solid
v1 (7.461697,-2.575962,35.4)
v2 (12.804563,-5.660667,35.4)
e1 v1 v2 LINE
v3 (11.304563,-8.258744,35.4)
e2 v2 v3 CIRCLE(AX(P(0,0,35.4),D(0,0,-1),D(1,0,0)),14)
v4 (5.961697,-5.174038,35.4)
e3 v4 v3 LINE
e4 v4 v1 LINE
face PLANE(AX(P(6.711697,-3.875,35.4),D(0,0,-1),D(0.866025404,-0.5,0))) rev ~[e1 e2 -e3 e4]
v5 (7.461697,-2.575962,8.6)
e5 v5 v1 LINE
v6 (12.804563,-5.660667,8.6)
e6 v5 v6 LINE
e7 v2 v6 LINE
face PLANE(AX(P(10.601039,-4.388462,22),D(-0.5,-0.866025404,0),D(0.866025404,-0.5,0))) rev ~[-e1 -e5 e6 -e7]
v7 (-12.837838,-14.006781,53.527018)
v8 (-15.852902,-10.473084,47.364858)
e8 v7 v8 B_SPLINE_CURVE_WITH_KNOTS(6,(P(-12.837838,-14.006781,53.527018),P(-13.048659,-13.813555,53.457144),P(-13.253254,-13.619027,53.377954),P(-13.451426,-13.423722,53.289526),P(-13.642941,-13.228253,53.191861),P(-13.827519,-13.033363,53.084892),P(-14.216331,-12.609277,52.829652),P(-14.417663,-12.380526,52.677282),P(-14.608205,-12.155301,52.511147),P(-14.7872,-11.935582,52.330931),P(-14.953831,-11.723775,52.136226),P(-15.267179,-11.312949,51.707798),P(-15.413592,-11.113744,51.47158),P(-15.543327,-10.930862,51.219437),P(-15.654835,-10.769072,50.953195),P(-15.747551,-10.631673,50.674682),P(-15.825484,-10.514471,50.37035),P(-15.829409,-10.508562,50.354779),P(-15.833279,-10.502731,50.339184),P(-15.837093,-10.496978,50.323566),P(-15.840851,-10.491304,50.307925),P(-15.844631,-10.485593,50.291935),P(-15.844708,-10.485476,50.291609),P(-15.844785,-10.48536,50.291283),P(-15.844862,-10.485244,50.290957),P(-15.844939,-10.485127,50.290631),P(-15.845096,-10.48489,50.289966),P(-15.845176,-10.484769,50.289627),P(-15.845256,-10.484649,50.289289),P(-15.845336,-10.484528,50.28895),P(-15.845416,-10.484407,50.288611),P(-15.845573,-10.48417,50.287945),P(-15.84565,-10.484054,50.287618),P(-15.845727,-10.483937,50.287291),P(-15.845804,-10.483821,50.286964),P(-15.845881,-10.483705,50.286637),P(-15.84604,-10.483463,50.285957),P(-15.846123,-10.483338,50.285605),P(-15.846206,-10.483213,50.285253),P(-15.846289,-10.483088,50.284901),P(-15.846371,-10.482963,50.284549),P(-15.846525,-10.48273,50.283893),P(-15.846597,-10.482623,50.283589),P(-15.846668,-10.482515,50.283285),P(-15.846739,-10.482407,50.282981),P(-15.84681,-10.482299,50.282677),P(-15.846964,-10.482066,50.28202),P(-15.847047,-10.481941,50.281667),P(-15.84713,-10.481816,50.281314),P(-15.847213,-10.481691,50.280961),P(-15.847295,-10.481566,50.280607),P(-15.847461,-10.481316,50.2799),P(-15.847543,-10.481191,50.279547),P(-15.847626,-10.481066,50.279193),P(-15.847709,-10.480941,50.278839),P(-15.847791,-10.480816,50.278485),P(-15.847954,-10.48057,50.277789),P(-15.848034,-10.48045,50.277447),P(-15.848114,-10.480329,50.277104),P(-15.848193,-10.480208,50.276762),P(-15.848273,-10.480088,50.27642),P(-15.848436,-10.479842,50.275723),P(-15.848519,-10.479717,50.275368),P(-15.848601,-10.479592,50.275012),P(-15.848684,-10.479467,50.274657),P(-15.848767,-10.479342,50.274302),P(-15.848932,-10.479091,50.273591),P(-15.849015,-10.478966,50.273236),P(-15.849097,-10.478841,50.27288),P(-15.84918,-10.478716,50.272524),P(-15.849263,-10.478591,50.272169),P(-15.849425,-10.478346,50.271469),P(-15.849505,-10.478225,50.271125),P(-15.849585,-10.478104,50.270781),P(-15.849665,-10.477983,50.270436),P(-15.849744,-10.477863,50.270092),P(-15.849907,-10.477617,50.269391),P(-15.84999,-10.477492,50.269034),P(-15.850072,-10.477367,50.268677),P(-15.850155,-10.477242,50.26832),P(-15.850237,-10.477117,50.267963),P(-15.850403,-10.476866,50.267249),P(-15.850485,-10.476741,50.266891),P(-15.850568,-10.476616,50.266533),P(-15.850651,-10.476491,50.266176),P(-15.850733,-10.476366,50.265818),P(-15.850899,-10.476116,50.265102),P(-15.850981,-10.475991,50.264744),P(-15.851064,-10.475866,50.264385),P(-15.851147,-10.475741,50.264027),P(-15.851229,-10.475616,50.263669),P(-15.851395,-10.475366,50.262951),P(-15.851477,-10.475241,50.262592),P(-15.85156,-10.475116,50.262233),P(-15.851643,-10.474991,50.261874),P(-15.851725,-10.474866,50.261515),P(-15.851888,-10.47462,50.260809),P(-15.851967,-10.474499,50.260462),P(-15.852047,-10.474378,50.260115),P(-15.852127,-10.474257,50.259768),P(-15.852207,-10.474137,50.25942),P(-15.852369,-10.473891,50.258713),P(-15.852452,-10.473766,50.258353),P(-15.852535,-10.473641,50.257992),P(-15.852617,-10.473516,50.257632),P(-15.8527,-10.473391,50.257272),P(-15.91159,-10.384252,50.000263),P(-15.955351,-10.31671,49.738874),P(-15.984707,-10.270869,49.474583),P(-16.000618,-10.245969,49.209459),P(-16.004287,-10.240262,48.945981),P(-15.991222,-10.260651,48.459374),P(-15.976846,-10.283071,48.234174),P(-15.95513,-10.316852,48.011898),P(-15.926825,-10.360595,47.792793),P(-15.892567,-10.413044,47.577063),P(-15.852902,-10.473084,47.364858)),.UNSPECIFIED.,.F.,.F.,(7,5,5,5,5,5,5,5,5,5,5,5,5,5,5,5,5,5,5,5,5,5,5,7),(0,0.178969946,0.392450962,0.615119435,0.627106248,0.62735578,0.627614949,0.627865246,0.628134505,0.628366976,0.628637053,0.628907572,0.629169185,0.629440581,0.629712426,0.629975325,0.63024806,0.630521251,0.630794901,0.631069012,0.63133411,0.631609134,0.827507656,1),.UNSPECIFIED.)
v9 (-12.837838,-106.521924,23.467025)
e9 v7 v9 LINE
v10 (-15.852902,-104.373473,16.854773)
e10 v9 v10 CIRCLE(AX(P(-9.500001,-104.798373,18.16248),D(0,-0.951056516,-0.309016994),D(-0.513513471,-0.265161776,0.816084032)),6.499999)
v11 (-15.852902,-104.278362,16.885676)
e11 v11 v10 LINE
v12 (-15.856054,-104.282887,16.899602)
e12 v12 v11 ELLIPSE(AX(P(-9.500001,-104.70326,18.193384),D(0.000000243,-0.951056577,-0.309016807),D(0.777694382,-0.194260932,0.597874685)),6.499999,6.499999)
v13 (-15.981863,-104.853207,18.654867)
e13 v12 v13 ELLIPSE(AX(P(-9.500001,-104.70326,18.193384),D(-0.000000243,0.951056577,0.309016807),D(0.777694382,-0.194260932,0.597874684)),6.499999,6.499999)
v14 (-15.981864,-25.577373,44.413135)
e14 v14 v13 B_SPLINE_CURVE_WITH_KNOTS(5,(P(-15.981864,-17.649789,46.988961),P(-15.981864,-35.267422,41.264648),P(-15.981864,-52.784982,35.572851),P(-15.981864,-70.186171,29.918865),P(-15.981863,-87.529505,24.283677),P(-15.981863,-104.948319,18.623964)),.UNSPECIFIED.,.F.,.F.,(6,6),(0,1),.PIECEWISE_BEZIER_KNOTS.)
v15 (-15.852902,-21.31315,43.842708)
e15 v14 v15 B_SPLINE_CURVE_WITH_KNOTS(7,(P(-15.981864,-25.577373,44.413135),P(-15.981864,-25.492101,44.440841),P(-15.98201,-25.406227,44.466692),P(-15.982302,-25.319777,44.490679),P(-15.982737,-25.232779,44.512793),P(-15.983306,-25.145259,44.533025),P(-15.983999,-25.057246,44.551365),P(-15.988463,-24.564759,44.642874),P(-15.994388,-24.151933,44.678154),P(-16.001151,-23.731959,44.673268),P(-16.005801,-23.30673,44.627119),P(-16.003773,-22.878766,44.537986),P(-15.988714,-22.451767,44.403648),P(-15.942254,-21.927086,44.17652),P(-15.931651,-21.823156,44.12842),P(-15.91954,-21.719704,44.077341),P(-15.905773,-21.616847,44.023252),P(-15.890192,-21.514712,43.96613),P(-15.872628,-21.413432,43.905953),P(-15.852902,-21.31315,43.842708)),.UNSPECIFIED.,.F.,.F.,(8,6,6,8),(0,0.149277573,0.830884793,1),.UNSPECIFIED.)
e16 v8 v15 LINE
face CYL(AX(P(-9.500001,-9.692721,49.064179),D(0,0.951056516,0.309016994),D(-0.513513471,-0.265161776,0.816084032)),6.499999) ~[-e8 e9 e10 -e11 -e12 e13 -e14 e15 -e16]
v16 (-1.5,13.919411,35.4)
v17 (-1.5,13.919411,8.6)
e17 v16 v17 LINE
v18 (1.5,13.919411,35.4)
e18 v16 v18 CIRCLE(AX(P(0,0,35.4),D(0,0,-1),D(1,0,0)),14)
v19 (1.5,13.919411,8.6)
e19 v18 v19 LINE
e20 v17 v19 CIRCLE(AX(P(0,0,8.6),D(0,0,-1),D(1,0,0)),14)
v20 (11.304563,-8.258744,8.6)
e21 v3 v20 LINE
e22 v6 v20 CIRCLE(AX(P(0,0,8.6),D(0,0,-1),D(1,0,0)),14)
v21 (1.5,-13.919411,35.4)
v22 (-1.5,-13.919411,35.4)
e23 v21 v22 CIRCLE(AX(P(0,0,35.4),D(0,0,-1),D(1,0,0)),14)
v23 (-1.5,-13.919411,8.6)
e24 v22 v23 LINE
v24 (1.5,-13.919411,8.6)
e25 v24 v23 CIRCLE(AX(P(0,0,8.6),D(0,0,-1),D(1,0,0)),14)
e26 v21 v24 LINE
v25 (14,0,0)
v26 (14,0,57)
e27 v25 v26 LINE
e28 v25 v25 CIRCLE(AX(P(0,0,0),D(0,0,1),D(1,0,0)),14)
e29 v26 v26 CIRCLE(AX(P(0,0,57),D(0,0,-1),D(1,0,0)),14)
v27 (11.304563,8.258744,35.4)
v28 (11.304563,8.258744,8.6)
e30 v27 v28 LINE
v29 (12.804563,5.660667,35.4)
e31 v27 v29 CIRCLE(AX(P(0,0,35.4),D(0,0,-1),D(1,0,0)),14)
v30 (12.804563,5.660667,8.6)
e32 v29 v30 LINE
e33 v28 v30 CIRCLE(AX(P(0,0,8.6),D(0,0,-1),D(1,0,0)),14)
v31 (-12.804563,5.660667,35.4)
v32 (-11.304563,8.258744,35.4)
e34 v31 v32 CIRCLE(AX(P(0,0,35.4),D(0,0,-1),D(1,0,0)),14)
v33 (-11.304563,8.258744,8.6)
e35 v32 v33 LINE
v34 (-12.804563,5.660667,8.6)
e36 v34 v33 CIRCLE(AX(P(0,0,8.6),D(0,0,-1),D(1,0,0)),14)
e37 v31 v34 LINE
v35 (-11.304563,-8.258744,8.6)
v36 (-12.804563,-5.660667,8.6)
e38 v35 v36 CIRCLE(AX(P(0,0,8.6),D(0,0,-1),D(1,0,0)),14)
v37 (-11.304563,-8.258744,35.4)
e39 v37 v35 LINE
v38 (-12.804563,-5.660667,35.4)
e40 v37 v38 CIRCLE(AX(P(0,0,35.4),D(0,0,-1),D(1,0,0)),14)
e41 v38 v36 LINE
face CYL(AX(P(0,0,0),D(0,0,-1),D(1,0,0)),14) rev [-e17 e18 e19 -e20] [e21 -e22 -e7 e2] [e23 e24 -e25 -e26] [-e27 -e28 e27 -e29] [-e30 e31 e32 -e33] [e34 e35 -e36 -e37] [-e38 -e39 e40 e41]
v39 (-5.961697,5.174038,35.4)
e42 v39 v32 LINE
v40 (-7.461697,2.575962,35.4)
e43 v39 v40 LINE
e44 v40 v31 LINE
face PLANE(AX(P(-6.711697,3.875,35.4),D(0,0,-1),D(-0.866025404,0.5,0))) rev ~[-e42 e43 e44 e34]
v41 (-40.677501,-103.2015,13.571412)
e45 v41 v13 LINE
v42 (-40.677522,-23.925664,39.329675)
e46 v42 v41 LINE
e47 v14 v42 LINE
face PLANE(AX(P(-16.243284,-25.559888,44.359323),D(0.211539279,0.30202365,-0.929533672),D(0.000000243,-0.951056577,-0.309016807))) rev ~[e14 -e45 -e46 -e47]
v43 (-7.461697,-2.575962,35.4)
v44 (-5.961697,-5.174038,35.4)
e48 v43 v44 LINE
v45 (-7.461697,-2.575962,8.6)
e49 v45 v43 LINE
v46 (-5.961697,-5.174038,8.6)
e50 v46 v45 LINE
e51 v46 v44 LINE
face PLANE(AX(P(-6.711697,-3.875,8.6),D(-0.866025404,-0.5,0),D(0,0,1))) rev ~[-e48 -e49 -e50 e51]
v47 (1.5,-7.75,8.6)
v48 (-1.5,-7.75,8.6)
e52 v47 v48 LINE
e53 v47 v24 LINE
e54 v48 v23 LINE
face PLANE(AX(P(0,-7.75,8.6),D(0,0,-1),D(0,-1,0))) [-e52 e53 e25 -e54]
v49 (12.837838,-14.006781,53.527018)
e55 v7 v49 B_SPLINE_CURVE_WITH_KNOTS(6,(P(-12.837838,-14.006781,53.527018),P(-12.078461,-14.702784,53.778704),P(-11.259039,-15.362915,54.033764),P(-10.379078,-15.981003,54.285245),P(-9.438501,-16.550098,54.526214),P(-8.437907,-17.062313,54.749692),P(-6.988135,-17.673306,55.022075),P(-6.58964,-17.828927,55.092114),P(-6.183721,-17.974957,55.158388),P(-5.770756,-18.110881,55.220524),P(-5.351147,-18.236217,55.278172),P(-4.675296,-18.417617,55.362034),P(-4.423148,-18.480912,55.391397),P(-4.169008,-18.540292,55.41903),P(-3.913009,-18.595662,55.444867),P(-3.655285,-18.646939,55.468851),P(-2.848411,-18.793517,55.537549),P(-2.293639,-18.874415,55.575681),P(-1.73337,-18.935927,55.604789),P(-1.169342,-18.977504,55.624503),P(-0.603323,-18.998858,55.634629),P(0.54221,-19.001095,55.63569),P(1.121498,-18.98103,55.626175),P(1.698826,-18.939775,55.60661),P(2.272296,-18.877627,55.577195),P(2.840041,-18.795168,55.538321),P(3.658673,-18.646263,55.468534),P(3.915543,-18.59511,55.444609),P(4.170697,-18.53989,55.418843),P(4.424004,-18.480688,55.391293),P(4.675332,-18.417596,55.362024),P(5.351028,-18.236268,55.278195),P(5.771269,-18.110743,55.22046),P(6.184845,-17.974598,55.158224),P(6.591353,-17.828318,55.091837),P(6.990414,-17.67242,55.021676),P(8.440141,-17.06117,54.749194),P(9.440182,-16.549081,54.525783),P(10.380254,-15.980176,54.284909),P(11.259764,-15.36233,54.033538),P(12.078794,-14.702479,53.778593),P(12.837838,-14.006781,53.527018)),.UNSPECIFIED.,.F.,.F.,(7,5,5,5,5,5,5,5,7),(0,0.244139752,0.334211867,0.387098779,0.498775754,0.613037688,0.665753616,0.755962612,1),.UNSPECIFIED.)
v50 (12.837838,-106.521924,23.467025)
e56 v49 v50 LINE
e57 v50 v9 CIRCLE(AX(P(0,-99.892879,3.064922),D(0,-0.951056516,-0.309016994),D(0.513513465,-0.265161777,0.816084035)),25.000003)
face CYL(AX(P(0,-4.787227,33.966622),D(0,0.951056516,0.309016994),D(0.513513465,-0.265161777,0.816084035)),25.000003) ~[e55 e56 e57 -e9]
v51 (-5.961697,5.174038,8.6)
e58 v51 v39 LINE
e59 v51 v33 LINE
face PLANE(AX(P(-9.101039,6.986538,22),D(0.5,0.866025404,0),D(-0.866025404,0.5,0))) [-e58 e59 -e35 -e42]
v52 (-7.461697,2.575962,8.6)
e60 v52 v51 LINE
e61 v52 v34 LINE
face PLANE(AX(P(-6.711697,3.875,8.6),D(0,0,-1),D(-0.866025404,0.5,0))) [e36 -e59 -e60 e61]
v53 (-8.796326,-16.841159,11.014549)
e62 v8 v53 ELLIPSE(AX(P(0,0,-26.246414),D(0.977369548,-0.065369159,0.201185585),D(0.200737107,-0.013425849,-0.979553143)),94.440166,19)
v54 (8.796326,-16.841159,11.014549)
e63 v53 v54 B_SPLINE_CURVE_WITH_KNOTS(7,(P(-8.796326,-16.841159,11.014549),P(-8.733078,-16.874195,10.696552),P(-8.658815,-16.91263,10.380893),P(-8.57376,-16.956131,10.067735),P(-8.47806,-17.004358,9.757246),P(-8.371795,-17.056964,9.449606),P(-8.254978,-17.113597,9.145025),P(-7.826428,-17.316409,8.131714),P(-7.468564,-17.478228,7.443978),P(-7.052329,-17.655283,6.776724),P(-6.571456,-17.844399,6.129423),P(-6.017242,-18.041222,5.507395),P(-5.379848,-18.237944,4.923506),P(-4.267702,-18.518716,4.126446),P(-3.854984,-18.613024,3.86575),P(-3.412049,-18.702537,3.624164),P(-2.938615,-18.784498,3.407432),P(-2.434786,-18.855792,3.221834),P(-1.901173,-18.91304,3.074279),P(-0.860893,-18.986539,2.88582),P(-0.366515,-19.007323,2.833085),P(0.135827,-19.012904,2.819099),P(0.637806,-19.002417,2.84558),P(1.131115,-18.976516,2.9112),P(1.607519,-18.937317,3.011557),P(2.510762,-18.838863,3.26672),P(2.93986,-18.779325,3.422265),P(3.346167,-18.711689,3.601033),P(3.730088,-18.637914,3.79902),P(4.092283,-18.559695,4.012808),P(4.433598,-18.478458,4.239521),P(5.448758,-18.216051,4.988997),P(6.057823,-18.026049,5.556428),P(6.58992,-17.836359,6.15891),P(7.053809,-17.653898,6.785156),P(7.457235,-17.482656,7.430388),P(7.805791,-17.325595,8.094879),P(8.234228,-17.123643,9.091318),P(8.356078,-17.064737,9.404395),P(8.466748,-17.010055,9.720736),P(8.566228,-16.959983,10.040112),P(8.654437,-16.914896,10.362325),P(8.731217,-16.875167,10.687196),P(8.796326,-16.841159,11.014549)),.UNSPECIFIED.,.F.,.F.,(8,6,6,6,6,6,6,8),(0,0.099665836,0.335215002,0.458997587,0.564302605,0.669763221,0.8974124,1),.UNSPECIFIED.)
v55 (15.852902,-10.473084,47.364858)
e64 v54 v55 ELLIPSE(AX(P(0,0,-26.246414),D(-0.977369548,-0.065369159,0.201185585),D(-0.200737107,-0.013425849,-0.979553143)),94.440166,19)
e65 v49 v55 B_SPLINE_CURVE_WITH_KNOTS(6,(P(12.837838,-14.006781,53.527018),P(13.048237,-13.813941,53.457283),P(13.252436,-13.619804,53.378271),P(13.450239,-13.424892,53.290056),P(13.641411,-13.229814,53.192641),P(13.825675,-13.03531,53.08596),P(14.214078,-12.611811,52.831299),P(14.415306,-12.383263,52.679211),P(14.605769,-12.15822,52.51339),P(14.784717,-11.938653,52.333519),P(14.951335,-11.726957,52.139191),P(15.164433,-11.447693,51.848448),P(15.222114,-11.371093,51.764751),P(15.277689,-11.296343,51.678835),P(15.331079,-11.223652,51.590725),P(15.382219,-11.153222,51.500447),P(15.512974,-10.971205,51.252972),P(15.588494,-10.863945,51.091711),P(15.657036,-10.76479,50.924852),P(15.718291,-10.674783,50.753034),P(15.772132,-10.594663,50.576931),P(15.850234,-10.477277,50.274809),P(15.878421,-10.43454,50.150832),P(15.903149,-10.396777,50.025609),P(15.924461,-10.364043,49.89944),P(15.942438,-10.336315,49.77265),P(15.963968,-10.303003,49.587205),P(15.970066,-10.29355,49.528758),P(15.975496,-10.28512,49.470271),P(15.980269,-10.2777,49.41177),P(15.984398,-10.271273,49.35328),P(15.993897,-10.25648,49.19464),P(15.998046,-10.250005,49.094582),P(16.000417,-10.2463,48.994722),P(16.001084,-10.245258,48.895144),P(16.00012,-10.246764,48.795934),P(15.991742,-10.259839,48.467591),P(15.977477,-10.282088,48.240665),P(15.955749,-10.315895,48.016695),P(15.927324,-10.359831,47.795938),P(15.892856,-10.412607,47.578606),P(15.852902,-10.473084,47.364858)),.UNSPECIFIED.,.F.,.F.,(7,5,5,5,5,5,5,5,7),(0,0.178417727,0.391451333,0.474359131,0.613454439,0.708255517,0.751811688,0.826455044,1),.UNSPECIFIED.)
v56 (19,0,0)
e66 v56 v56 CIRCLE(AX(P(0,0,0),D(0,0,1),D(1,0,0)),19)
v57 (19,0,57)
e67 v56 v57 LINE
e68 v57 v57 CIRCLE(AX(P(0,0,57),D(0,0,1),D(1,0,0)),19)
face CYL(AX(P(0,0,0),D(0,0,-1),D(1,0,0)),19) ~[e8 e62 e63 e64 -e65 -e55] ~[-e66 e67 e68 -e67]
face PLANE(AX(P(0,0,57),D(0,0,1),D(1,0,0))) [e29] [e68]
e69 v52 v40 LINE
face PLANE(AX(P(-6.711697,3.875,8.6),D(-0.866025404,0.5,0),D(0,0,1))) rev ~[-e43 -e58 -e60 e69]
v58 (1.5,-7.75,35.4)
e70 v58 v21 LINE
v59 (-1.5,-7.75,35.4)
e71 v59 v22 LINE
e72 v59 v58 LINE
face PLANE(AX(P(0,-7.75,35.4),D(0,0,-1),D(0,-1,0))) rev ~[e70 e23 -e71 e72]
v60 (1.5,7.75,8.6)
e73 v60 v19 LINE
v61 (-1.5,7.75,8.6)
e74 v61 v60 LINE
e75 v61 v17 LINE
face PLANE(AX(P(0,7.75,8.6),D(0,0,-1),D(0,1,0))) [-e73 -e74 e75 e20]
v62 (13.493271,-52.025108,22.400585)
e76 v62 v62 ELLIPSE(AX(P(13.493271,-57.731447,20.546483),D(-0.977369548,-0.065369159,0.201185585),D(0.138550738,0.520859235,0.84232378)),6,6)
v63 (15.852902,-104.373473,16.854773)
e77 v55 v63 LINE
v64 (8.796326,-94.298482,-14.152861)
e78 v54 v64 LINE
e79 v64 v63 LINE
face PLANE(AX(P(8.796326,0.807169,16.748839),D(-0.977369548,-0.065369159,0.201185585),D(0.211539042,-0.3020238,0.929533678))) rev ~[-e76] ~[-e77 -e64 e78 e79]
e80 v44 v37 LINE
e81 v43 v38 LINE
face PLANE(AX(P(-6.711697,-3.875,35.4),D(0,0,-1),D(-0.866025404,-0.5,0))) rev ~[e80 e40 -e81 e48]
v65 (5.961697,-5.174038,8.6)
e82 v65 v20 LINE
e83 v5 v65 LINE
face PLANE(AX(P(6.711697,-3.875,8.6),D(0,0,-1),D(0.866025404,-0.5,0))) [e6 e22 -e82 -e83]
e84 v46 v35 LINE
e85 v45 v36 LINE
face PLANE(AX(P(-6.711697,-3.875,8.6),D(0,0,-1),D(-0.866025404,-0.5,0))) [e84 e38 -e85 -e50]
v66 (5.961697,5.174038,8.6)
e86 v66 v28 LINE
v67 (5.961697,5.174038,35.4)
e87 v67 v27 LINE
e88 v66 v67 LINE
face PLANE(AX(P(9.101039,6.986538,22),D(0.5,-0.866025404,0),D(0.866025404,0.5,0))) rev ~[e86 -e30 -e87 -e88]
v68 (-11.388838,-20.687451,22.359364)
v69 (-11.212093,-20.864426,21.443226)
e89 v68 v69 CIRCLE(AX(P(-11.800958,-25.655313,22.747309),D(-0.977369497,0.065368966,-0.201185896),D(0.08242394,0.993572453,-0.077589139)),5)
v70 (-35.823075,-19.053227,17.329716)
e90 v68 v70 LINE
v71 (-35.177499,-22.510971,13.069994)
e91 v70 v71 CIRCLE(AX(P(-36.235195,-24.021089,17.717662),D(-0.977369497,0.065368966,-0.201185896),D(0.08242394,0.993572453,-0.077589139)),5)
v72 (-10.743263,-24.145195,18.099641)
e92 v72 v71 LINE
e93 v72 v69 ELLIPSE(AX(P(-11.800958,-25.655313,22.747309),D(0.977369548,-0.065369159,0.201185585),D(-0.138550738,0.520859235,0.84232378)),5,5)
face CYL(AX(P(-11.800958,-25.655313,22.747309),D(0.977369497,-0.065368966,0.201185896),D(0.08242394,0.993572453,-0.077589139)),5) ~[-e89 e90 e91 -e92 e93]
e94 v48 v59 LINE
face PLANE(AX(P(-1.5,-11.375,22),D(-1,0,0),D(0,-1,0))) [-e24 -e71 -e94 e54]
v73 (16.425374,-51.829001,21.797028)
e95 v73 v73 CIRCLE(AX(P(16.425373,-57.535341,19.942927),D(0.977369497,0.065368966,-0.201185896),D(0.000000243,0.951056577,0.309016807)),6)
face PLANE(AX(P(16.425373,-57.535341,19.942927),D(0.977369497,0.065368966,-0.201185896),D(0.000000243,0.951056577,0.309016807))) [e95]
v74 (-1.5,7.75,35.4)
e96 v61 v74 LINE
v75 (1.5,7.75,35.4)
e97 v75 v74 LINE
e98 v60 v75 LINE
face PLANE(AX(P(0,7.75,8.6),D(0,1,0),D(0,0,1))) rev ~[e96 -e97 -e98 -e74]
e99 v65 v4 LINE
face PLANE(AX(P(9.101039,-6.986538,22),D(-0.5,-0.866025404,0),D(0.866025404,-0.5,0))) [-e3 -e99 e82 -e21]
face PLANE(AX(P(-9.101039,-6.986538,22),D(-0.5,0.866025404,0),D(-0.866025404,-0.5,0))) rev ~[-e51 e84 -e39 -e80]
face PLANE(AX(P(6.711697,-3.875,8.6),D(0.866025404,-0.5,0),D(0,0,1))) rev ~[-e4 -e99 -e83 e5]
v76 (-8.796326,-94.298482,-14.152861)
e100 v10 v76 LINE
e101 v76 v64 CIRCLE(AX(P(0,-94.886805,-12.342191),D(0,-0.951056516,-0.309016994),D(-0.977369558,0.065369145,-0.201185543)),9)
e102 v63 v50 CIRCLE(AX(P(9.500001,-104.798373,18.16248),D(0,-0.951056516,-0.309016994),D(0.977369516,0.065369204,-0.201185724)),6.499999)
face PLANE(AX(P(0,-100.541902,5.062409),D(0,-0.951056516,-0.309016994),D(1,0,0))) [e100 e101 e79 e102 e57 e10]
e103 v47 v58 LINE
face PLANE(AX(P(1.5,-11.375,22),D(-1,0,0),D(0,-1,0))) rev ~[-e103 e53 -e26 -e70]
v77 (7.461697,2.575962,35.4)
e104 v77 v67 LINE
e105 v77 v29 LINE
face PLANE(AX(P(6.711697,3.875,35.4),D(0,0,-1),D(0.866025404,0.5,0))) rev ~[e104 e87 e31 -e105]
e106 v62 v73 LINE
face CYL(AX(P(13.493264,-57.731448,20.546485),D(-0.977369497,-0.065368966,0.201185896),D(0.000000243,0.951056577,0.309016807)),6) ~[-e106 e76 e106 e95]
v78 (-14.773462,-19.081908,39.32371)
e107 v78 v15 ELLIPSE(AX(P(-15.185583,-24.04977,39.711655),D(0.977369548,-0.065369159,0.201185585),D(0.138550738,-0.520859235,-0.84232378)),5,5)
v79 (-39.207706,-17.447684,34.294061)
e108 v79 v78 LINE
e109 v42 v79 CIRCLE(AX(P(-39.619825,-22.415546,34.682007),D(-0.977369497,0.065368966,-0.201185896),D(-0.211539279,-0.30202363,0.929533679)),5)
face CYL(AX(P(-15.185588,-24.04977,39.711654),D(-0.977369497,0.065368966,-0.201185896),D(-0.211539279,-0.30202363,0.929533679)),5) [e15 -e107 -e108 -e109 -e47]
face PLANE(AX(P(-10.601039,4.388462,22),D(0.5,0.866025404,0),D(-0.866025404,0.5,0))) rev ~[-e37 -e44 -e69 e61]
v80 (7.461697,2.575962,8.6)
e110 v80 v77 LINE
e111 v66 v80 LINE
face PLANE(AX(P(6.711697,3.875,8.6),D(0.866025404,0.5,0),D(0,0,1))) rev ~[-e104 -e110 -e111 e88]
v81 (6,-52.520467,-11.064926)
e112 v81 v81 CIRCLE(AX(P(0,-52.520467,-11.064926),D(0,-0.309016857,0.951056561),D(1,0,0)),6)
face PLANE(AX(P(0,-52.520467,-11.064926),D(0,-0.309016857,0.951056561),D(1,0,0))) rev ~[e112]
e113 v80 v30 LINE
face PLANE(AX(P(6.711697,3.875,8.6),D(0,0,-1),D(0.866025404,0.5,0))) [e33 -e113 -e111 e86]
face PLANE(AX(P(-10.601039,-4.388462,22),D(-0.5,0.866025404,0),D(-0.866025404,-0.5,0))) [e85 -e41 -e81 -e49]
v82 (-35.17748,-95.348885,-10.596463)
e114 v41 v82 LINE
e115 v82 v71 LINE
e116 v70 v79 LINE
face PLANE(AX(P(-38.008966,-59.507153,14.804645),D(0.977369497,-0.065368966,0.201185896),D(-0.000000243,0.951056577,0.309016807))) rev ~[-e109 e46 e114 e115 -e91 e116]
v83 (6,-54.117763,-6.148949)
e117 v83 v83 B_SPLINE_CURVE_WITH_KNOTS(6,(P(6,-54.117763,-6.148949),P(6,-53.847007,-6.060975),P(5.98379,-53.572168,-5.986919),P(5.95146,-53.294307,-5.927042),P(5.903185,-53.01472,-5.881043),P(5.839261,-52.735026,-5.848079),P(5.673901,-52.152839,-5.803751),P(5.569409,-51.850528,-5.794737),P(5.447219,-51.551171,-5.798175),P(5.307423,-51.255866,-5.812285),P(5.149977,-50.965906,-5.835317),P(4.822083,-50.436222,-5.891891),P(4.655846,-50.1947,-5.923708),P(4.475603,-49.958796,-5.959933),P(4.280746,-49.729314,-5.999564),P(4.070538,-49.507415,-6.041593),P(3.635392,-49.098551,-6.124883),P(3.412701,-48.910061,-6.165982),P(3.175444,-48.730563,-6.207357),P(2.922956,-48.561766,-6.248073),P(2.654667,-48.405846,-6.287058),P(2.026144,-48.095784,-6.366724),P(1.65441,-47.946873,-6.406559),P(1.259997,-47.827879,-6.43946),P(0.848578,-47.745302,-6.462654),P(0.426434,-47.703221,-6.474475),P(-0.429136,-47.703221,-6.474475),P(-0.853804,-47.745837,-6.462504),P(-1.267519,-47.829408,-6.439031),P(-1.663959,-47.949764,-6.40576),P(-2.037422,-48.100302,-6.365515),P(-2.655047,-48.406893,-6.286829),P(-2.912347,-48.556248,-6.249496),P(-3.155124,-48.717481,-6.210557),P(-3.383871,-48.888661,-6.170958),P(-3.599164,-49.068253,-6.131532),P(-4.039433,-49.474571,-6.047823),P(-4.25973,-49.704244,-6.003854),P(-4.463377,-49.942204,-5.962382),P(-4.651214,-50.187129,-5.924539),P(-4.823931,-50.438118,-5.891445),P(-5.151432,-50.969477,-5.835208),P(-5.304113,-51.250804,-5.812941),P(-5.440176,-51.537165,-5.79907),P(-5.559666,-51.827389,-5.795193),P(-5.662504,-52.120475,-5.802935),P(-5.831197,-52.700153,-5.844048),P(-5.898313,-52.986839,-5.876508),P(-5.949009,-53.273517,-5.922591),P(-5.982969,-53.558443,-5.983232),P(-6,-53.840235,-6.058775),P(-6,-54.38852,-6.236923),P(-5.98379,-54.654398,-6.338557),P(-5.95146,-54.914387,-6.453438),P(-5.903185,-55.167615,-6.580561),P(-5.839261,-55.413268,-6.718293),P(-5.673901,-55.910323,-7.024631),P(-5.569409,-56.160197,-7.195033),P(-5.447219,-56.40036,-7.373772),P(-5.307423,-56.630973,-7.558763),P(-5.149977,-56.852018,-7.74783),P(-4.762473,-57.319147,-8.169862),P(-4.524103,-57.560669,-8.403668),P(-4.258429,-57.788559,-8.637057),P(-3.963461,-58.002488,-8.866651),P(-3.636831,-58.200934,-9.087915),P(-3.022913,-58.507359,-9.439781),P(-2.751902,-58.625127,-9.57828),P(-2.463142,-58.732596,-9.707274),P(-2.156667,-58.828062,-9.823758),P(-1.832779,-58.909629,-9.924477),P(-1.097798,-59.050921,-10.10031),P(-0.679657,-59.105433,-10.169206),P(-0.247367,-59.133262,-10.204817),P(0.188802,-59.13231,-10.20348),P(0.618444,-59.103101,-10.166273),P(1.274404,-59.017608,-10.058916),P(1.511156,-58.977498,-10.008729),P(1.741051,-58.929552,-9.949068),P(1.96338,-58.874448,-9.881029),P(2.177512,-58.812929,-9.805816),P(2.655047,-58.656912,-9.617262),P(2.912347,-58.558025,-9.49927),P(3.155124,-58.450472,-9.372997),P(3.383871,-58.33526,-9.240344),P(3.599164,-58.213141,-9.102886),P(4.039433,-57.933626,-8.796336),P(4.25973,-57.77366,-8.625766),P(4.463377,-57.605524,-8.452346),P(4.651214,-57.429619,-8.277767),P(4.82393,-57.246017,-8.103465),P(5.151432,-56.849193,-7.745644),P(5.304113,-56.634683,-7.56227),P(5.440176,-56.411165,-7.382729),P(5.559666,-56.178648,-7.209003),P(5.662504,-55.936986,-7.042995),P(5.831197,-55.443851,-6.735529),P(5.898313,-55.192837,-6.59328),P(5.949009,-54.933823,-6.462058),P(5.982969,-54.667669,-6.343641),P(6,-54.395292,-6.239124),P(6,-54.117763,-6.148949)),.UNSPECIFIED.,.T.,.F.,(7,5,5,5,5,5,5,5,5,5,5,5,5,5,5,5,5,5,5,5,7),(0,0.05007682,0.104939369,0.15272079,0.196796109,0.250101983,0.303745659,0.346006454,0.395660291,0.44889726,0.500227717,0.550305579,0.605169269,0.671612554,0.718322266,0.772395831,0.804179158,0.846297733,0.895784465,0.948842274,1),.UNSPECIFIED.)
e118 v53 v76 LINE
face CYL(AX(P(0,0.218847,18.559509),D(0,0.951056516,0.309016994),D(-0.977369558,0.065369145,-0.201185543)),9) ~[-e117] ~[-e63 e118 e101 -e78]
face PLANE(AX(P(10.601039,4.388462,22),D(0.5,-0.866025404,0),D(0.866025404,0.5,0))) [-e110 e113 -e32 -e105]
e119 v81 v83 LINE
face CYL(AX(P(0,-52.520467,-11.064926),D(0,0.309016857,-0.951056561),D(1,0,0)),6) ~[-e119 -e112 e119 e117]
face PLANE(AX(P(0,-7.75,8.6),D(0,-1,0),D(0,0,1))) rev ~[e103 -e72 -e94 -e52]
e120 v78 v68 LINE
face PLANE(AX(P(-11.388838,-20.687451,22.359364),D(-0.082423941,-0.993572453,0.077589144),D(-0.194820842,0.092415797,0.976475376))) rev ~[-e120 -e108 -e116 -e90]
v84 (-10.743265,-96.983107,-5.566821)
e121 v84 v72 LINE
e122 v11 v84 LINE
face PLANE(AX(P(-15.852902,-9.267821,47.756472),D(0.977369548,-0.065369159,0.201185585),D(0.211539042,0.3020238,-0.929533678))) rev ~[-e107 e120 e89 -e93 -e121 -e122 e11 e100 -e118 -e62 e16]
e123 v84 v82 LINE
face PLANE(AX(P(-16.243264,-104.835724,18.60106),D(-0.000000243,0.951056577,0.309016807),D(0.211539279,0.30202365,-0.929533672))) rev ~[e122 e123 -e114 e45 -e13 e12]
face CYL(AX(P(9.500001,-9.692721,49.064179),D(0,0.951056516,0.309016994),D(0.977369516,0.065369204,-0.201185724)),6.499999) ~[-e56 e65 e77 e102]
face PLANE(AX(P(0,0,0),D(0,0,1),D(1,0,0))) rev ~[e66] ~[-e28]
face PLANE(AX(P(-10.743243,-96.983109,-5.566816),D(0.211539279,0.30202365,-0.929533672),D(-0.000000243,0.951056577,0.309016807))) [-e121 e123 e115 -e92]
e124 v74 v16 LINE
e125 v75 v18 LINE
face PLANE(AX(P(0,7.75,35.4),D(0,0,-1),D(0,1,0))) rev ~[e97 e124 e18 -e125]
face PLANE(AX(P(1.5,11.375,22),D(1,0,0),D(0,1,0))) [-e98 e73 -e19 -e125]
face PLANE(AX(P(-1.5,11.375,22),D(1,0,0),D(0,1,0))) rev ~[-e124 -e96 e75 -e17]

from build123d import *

# Parameters (mm, degrees)
CYLINDER002_R         = 20
CYLINDER002_DEPTH     = 10
PAD_DEPTH             = 100
CLONE_PLACEMENT_ANGLE = 18
SKETCH010_R           = 6
PAD008_DEPTH          = 3
SKETCH011_R           = 6
PAD009_DEPTH          = 10
PAD010_DEPTH          = 25
PAD010_DEPTH_BACK     = 1
CYLINDER_R            = 19
CYLINDER_DEPTH        = 57
SKETCH006_R           = 14
POCKET001_DEPTH       = 20.9027
POCKET001_DEPTH_BACK  = 57.001
SKETCH001_W           = 7.25
SKETCH001_H           = 26.8
PAD001_DEPTH          = 1.5
POLARPATTERN_COUNT    = 6


with BuildPart() as cylinder002:
    # Cylinder002 → Cylinder002 (new body)
    with BuildSketch(Plane.XY.offset(56)):
        Circle(CYLINDER002_R)
    extrude(amount=CYLINDER002_DEPTH)


with BuildPart() as cut:
    # Sketch → Pad (new body)
    with BuildSketch(Plane.XZ):
        with BuildLine():
            Line((-15.852902, 39.699504), (-8.796326, 7.096149))
            ThreePointArc((-8.796326, 7.096149), (0, 0), (8.796326, 7.096149))
            Line((8.796326, 7.096149), (15.852902, 39.699504))
            ThreePointArc((15.852902, 39.699504), (15.463392, 43.660617), (12.837838, 46.652038))
            ThreePointArc((12.837838, 46.652038), (0, 50.2), (-12.837838, 46.652038))
            ThreePointArc((-12.837838, 46.652038), (-15.463392, 43.660617), (-15.852902, 39.699504))
        make_face()
    extrude(amount=PAD_DEPTH)


with BuildPart() as cut_1:
    # Body placement: moved
    add(cut.part.moved(Location((100, 0, 0))))


with BuildPart() as cut_2:
    # Clone placement: moved
    add(cut_1.part.moved(Location((-100, 3, 10))).rotate(Axis((-100, 3, 10), (1, 0, 0)), CLONE_PLACEMENT_ANGLE))

    # Sketch010 (on Face3 of Clone) → Pad008 (new body)
    with BuildSketch(Plane(origin=(6.93556, 3.463869, 8.572357), x_dir=(0, 0.951057, 0.309017), z_dir=(0.97737, 0.065369, -0.201186))):
        with Locations((-54.5, 31)):
            Circle(SKETCH010_R)
    extrude(amount=PAD008_DEPTH)

    # Sketch011 → Pad009 (join)
    with BuildSketch(Plane(origin=(0, 0, 6), x_dir=(1, 0, 0), z_dir=(0, -0.309017, 0.951057))):
        with Locations((0, -55.223284)):
            Circle(SKETCH011_R)
    extrude(amount=PAD009_DEPTH)

    # Sketch012 (on Face1 of Pad009) → Pad010 (join, two sides)
    with BuildSketch(Plane(origin=(-6.93556, 3.463869, 8.572357), x_dir=(0, -0.951057, -0.309017), z_dir=(-0.97737, 0.065369, -0.201186))) as pad010_sk:
        with BuildLine():
            Line((16.544459, 44), (99.9, 44))
            Line((99.9, 44), (99.9, 18))
            Line((99.9, 18), (23.31369, 18))
            ThreePointArc((18.708854, 21.0518), (20.551535, 18.832207), (23.31369, 18))
            Line((18.708854, 21.0518), (11.939623, 37.0518))
            ThreePointArc((16.544459, 44), (12.376666, 41.762155), (11.939623, 37.0518))
        make_face()
    extrude(amount=PAD010_DEPTH)
    extrude(pad010_sk.sketch, amount=-PAD010_DEPTH_BACK)

    # Cut: cut Cylinder002
    add(cylinder002.part, mode=Mode.SUBTRACT)


with BuildPart() as ello_beam_head:
    # Cylinder → Cylinder (new body)
    with BuildSketch(Plane.XY):
        Circle(CYLINDER_R)
    extrude(amount=CYLINDER_DEPTH)

    # Fusion: union Cut
    add(cut_2.part)

    # Sketch006 → Pocket001 (cut, two sides)
    with BuildSketch(Plane.XY) as pocket001_sk:
        Circle(SKETCH006_R)
    extrude(amount=-POCKET001_DEPTH, mode=Mode.SUBTRACT)
    extrude(pocket001_sk.sketch, amount=POCKET001_DEPTH_BACK, mode=Mode.SUBTRACT)

    # Sketch001 → Pad001 (join, symmetric)
    with BuildSketch(Plane.YZ):
        with Locations((11.375, 22)):
            Rectangle(SKETCH001_W, SKETCH001_H)
    pad001 = extrude(amount=PAD001_DEPTH, both=True)

    # PolarPattern: Pad001 ×6 about axis
    polarpattern_axis = Axis((0, 0, 0), (0, 0, 1))
    for i in range(1, POLARPATTERN_COUNT):
        add(pad001.rotate(polarpattern_axis, i * 360 / POLARPATTERN_COUNT))


solid = ello_beam_head.part
